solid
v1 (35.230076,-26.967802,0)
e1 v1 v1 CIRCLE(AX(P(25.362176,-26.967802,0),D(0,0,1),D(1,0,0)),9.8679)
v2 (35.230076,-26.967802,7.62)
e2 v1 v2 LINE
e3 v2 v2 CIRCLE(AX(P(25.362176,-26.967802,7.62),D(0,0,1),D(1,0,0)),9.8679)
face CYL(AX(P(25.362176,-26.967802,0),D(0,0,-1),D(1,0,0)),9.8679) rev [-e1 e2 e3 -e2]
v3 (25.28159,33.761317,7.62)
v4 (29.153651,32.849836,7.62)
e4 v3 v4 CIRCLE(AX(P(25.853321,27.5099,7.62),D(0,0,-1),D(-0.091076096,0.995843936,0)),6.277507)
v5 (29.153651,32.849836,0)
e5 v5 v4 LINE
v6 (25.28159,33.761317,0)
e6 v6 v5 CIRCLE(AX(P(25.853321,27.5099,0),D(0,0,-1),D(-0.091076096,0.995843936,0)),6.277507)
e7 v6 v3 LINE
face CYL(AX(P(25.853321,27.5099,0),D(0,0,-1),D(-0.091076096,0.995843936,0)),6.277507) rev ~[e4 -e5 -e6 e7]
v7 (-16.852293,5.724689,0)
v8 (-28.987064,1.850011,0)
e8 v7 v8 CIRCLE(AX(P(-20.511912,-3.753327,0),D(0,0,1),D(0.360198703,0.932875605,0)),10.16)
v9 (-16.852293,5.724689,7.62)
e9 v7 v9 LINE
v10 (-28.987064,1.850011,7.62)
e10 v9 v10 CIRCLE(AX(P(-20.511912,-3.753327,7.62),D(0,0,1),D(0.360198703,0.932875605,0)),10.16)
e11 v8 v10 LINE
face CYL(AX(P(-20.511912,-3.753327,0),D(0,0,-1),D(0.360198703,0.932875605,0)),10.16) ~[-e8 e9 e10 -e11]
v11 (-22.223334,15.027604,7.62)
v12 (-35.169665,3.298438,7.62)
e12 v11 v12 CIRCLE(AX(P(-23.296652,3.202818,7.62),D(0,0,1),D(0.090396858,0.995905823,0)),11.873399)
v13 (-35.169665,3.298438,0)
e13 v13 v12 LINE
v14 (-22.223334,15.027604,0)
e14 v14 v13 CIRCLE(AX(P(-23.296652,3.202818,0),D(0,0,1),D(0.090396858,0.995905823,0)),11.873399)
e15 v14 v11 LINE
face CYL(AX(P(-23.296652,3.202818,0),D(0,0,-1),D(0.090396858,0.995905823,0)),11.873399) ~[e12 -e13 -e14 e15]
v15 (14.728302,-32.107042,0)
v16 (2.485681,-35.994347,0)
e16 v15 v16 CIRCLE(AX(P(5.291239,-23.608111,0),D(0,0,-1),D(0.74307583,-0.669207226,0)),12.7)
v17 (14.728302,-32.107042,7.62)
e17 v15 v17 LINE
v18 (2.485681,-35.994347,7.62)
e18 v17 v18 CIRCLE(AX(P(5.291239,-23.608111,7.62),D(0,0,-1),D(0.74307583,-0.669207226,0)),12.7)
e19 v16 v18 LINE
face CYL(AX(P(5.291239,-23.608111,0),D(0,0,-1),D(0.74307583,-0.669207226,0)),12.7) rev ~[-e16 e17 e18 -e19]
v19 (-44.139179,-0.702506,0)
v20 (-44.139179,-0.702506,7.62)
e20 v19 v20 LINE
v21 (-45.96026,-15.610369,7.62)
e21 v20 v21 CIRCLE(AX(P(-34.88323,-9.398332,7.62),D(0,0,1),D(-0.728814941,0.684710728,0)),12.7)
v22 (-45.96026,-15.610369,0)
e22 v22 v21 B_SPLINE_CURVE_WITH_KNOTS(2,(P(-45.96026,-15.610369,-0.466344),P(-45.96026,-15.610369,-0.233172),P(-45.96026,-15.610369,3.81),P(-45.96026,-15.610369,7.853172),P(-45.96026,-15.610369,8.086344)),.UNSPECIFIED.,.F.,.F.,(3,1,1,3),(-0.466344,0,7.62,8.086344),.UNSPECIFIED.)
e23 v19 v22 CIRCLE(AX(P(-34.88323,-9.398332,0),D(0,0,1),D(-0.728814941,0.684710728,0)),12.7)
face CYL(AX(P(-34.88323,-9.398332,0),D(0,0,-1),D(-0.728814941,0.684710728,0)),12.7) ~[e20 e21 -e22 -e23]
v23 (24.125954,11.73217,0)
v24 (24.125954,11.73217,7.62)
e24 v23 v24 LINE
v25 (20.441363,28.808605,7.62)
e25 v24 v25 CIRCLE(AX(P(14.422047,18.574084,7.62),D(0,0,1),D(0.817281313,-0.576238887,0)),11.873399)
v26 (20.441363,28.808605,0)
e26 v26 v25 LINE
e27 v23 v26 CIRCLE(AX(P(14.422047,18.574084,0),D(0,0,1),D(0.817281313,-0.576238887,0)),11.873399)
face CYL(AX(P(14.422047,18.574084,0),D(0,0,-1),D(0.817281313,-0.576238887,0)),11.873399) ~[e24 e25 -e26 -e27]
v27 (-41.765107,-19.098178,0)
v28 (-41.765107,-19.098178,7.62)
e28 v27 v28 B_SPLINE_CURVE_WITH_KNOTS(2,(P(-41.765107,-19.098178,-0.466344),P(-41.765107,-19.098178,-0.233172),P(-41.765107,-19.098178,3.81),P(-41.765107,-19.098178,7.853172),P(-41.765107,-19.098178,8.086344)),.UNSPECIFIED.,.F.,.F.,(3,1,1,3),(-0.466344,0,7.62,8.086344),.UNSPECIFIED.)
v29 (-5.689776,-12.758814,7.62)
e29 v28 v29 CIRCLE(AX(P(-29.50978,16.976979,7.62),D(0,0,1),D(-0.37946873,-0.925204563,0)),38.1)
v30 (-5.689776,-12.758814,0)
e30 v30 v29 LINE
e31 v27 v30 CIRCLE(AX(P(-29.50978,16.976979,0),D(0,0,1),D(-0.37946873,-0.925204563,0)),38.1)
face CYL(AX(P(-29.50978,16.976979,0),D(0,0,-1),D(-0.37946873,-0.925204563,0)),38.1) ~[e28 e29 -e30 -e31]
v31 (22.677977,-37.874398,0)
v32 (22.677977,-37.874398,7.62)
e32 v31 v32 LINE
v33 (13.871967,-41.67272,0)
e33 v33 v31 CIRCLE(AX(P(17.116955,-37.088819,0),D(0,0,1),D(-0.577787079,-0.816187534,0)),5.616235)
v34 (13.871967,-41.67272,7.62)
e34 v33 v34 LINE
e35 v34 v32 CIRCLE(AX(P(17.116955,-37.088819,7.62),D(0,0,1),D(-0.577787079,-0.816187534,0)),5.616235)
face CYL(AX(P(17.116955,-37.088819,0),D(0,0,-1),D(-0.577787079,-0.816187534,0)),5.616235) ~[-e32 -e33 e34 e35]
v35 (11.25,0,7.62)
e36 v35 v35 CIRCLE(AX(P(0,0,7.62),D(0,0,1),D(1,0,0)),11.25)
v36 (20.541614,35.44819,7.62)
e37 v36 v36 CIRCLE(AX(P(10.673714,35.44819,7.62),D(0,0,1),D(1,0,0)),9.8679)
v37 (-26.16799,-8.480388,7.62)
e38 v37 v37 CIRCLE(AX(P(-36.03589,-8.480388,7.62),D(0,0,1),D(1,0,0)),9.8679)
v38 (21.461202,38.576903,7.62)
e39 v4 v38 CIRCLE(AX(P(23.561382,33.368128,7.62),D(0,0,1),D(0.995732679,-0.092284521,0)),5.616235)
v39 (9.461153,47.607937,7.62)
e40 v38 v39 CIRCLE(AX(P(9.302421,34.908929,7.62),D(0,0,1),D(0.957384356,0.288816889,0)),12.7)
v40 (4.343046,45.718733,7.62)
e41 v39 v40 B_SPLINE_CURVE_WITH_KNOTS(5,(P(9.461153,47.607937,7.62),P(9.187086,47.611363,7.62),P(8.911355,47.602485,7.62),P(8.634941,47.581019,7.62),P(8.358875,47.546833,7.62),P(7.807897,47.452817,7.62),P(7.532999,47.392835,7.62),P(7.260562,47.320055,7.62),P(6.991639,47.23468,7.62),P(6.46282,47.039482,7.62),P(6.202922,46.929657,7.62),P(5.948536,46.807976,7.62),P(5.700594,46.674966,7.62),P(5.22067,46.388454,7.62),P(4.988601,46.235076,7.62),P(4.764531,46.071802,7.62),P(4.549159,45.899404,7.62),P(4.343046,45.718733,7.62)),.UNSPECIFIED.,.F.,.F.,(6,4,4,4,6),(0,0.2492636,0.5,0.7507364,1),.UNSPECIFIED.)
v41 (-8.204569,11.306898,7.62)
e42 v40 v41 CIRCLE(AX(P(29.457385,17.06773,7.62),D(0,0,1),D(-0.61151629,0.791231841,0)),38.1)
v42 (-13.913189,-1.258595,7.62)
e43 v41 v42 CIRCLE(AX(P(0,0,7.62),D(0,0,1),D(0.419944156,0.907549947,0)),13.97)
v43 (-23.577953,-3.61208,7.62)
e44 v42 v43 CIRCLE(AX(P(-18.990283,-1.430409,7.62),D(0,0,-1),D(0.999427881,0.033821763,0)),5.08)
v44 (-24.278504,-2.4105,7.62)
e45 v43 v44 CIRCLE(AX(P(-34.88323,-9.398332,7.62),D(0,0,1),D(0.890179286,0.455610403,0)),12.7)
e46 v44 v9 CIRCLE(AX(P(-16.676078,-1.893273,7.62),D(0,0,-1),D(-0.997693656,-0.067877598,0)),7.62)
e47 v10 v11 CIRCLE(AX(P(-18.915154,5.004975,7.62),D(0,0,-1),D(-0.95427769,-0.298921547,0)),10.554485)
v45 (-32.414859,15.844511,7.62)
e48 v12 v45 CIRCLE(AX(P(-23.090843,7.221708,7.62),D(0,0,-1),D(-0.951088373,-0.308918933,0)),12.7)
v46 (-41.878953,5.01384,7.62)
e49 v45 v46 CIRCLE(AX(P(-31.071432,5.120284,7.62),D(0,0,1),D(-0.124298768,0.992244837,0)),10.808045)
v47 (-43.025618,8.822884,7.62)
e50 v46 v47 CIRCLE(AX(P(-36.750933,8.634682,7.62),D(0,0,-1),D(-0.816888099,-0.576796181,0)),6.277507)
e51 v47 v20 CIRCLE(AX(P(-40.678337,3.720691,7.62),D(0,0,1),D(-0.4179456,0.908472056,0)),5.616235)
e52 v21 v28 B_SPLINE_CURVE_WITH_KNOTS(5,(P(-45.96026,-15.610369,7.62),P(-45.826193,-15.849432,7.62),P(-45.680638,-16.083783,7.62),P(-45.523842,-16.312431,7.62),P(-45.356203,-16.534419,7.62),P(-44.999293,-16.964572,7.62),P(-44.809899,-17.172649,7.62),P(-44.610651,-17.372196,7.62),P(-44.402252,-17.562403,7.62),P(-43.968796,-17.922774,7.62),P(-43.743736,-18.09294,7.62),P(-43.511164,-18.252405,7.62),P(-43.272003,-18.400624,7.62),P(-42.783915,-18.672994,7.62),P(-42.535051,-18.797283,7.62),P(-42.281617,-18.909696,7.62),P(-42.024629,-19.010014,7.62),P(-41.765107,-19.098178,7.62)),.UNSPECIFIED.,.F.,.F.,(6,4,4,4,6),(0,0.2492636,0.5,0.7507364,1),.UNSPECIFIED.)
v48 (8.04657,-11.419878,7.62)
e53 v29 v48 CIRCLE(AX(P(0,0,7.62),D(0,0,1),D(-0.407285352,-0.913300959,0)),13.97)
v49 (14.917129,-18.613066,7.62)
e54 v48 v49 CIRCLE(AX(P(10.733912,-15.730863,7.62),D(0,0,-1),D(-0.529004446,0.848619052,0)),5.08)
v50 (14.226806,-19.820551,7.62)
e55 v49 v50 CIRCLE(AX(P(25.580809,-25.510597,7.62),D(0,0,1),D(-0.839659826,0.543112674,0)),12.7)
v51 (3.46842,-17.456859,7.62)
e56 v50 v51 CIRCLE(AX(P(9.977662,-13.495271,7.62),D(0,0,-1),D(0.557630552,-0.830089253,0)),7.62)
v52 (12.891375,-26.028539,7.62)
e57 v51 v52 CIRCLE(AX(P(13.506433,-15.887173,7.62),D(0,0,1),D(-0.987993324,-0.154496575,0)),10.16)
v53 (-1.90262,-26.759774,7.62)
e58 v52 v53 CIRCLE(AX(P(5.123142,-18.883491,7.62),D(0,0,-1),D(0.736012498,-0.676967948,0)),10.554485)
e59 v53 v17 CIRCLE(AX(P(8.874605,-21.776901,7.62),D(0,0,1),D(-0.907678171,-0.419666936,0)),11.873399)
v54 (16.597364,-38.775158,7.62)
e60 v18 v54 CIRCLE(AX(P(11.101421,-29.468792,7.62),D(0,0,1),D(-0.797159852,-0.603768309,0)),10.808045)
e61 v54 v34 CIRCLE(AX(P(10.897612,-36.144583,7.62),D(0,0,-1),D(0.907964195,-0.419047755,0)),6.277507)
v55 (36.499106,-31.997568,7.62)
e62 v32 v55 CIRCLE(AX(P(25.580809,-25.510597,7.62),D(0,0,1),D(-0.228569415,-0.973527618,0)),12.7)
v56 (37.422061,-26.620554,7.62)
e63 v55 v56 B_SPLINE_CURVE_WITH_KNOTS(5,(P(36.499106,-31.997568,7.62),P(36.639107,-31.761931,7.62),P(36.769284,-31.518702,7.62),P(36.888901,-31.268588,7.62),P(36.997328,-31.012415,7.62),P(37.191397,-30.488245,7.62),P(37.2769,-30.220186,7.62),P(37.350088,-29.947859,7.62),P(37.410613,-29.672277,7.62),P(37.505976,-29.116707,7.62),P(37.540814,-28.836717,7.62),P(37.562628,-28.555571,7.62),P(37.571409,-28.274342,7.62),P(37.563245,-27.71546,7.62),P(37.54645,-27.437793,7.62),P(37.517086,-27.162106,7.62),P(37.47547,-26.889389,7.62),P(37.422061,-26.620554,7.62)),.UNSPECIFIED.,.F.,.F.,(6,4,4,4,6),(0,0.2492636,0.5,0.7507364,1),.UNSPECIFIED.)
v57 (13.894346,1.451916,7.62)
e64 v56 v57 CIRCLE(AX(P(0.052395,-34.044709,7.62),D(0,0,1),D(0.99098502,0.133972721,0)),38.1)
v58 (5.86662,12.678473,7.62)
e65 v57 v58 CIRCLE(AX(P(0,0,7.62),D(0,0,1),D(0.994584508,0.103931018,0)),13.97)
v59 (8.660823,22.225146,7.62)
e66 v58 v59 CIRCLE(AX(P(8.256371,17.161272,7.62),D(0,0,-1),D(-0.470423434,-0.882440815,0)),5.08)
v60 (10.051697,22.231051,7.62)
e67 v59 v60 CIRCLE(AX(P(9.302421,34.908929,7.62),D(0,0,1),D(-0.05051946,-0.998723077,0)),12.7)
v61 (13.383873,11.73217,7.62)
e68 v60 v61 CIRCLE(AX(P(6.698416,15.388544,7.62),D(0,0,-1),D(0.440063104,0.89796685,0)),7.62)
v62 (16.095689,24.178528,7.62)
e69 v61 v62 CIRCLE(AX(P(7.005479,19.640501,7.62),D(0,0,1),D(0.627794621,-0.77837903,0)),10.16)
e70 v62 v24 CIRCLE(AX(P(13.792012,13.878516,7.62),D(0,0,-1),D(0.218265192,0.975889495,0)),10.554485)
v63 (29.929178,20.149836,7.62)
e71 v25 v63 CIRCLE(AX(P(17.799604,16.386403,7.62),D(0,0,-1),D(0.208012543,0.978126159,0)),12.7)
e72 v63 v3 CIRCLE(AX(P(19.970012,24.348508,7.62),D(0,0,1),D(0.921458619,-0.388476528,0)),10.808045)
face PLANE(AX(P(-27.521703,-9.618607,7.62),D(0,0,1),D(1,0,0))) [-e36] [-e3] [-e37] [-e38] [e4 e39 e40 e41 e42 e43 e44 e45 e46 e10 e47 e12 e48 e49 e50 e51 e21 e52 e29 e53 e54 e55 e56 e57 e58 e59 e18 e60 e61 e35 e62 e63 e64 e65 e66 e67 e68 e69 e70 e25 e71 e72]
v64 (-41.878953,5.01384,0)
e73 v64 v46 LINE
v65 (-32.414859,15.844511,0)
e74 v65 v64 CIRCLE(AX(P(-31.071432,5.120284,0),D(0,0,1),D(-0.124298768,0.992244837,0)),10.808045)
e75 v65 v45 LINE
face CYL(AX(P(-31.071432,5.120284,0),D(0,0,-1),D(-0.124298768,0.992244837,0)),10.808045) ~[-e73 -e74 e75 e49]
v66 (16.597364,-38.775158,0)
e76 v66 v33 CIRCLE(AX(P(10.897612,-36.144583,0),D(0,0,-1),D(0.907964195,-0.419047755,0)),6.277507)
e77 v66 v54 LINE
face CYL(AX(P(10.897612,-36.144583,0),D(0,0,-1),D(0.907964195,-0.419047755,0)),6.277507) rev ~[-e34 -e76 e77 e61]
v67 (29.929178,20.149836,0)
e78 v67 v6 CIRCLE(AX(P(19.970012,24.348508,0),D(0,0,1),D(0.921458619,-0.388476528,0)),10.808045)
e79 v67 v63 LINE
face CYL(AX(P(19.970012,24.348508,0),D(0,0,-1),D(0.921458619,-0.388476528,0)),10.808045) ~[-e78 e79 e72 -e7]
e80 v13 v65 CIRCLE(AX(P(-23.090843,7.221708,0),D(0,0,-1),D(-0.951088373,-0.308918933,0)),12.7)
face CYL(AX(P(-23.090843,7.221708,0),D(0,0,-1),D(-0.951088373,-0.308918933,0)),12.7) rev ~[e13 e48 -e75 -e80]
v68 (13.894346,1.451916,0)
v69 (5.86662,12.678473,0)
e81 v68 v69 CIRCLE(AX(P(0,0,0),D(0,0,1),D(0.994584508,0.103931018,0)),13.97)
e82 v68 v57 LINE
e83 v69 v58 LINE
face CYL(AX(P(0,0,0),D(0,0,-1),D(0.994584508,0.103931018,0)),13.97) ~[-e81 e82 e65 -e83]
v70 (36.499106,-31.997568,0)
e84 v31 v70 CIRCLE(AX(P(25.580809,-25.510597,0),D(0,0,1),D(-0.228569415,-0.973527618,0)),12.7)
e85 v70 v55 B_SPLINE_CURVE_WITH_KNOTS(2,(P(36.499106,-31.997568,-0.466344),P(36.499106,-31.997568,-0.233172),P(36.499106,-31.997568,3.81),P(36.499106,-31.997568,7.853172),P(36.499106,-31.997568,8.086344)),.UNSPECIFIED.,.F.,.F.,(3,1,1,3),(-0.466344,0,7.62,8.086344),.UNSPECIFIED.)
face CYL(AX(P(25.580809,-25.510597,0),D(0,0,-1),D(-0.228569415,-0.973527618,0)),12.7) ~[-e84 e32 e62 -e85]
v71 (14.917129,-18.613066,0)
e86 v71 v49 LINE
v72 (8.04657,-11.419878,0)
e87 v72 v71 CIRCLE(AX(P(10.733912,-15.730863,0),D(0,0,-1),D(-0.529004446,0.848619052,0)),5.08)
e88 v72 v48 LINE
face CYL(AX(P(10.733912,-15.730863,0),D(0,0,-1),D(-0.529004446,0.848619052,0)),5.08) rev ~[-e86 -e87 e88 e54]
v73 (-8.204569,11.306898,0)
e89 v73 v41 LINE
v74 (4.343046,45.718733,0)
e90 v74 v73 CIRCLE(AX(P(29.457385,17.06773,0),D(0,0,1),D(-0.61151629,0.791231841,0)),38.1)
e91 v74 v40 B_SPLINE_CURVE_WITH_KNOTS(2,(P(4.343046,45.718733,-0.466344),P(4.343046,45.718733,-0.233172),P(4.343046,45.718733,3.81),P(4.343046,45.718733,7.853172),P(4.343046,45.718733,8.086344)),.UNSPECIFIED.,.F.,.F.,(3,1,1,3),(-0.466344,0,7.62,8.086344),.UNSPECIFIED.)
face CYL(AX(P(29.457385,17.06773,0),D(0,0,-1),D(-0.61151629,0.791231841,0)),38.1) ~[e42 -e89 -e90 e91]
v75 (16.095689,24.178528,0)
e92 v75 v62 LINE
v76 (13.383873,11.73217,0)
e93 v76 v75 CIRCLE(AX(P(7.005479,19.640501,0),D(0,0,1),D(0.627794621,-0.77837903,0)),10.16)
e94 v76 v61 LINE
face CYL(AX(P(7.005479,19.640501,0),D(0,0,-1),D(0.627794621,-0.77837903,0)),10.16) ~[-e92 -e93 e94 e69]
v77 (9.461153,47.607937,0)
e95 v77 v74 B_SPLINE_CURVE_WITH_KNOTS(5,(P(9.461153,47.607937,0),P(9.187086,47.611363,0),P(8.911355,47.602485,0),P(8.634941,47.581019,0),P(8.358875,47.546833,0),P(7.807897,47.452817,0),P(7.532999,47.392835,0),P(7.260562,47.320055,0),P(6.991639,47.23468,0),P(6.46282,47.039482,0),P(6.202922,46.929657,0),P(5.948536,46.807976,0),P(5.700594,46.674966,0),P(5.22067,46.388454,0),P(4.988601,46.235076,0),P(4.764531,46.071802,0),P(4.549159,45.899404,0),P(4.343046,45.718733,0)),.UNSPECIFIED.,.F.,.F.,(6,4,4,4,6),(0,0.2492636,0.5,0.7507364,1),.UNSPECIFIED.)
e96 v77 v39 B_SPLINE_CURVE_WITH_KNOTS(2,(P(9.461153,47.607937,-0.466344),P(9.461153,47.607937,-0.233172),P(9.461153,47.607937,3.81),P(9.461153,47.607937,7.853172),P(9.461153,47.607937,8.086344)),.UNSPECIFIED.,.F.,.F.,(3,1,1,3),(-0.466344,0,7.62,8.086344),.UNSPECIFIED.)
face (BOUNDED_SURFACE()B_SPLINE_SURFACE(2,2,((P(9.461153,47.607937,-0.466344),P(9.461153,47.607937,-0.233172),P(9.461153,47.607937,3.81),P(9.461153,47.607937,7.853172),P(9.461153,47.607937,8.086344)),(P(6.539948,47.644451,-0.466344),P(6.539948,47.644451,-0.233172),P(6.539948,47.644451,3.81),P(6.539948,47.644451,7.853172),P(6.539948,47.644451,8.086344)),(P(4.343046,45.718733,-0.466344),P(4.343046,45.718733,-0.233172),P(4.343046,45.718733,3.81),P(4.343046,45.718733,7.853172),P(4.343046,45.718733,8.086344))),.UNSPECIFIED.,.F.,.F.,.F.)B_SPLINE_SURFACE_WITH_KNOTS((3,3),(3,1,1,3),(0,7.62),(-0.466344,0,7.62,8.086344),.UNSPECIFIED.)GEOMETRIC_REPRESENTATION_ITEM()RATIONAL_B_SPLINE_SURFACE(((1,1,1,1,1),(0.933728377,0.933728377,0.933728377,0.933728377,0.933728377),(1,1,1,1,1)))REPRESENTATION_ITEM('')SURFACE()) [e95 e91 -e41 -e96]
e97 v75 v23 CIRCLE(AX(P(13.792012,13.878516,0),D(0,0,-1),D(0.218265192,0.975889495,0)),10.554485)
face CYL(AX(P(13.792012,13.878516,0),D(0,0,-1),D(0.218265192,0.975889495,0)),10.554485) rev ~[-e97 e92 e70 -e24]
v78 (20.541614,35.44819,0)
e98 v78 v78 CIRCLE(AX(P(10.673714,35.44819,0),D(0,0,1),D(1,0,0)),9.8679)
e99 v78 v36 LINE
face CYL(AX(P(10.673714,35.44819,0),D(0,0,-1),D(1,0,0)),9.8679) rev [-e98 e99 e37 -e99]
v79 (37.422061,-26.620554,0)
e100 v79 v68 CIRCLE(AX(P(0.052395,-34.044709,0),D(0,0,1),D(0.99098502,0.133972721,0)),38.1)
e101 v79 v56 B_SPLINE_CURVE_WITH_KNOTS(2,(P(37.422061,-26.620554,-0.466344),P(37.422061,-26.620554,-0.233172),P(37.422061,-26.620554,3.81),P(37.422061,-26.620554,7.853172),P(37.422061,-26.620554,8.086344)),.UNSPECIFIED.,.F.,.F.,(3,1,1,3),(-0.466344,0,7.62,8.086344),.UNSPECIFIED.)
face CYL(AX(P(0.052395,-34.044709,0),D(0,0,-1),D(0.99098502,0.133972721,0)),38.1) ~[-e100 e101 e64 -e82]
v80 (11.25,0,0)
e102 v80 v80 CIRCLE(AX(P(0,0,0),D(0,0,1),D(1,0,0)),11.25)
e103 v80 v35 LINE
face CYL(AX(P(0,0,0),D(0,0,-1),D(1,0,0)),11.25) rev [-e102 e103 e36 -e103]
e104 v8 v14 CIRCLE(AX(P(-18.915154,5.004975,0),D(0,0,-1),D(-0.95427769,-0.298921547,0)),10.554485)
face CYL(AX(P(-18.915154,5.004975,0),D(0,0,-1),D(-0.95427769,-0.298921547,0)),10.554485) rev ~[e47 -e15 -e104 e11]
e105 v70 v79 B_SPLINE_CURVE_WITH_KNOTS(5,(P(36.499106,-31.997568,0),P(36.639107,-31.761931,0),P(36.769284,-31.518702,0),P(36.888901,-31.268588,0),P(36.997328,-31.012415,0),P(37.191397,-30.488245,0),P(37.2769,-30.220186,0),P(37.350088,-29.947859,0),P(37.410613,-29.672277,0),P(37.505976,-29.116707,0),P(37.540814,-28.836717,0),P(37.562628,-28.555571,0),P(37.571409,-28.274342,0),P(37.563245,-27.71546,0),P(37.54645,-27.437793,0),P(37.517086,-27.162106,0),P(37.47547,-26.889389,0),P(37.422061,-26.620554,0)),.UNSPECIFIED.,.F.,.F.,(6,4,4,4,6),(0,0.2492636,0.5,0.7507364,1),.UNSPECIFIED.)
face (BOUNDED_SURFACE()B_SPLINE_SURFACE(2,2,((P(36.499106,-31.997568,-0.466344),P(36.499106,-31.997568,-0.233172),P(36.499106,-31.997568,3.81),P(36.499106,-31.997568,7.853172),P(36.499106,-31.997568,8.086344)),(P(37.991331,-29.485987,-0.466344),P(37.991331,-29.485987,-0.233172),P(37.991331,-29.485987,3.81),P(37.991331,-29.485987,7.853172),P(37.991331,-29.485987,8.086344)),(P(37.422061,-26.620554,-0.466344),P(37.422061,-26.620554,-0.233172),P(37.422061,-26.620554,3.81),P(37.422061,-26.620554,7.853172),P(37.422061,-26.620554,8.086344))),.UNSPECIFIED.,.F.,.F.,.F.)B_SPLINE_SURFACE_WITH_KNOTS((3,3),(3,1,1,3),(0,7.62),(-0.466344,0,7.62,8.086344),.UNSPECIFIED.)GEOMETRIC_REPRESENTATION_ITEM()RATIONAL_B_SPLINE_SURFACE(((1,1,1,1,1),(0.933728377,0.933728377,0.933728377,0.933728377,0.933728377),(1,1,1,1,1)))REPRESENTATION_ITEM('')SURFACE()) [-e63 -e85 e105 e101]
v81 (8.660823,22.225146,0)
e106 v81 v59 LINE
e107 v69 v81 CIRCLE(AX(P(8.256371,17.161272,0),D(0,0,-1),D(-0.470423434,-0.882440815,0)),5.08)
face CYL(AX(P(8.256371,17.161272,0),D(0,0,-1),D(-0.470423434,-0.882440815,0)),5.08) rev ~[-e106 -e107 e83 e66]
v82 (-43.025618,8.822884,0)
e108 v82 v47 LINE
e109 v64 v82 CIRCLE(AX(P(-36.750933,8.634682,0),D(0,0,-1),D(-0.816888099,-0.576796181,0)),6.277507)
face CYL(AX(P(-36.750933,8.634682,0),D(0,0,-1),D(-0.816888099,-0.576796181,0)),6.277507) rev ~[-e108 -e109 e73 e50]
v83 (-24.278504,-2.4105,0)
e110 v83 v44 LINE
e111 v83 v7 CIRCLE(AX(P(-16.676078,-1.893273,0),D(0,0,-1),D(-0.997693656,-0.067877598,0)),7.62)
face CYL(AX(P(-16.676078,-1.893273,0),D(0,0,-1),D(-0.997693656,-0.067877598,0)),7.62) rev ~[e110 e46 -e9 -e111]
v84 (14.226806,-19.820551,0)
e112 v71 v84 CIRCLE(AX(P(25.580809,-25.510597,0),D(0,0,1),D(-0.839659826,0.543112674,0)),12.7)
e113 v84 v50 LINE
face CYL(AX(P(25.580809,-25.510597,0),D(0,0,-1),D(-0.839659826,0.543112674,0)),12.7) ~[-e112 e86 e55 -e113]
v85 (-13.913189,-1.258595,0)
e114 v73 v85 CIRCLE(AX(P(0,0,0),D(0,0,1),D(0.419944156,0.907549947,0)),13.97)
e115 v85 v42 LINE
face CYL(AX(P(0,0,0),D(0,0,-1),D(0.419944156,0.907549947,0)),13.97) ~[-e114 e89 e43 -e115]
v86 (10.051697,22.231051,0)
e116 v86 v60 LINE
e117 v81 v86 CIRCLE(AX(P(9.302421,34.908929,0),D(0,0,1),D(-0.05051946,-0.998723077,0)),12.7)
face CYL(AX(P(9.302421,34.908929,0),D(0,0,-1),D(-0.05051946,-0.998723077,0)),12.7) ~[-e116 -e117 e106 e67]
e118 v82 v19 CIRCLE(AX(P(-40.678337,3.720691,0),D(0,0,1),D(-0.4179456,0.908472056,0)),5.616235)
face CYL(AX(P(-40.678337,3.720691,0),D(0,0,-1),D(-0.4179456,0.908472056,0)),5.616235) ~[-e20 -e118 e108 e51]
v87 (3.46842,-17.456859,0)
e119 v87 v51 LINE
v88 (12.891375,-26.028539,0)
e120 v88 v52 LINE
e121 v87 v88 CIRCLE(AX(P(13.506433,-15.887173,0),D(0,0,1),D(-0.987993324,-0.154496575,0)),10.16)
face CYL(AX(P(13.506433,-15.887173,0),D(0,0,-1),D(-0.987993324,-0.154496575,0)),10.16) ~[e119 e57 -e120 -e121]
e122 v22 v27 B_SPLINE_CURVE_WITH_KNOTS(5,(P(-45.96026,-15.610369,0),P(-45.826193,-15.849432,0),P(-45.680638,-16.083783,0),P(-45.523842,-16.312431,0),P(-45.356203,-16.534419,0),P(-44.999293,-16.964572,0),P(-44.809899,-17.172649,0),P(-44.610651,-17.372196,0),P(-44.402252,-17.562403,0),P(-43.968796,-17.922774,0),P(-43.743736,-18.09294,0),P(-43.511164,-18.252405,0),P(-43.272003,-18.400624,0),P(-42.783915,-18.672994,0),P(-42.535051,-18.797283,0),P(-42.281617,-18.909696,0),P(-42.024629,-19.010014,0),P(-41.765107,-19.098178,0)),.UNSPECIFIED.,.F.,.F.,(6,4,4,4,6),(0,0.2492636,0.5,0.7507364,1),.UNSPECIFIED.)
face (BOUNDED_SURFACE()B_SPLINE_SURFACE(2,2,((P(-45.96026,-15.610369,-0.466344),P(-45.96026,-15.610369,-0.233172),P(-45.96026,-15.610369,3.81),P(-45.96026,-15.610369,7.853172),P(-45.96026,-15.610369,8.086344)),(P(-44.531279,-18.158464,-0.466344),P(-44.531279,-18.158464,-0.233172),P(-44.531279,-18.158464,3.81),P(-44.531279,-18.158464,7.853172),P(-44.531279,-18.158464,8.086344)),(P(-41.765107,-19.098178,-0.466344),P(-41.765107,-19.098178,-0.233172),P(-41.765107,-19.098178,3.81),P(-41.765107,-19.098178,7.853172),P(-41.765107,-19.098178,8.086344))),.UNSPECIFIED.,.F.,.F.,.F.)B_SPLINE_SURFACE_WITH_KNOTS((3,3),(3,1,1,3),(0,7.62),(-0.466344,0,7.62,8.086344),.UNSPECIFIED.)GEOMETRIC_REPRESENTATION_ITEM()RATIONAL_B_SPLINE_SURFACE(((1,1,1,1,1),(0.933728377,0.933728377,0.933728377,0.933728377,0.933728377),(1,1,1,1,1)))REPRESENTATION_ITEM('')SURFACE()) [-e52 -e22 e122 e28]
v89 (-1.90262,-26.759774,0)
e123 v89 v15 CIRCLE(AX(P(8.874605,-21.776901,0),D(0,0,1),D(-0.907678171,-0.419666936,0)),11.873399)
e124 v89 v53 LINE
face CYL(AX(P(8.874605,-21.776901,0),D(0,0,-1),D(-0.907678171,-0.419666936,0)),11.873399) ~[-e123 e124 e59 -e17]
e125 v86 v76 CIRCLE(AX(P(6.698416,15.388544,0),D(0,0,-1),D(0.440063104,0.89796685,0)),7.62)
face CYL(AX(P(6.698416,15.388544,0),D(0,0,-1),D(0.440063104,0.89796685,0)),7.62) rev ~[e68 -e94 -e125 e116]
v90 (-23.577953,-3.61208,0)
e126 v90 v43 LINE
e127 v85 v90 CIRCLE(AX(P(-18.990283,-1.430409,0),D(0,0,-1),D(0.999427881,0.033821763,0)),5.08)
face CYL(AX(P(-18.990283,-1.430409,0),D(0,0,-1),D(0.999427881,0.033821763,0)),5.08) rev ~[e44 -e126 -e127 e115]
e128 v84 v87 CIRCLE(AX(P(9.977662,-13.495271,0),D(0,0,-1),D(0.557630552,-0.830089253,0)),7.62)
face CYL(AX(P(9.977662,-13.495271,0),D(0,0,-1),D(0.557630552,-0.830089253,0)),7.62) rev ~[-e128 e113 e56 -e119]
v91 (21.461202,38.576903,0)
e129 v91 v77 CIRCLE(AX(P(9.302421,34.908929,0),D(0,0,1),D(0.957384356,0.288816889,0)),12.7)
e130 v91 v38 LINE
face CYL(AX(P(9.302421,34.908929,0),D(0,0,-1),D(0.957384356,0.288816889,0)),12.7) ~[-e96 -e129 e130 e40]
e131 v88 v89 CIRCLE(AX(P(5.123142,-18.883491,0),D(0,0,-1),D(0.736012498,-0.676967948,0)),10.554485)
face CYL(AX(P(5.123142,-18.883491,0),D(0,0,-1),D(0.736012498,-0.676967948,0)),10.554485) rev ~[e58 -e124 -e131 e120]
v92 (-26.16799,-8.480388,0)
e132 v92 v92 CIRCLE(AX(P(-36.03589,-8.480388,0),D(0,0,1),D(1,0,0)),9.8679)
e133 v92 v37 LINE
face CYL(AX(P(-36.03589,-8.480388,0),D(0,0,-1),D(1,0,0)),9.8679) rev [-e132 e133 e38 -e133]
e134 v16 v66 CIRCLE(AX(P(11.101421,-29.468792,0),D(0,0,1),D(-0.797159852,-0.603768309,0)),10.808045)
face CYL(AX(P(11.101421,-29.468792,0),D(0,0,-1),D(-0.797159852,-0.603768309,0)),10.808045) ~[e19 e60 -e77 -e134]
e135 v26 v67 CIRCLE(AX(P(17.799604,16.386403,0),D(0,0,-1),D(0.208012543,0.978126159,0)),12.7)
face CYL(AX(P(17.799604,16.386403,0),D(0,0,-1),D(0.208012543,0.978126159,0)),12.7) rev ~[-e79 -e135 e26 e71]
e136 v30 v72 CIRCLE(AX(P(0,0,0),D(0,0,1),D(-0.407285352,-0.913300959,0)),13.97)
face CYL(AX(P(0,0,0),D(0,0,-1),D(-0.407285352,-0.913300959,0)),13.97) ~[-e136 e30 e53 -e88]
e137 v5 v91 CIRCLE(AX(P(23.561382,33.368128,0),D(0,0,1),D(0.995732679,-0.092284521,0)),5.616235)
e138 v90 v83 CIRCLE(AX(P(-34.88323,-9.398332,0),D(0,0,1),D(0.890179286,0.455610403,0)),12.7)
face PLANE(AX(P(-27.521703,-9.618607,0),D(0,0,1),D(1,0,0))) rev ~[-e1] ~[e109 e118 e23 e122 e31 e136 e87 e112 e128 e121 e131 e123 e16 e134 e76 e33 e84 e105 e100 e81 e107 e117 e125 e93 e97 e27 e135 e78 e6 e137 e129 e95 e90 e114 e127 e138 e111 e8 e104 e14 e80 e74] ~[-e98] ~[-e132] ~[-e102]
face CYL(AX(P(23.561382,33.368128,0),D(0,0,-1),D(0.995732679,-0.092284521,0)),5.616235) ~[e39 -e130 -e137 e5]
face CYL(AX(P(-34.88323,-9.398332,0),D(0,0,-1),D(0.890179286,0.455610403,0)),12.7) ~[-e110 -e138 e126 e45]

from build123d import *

# Parameters (mm, degrees)
F0_R     = 9.8679
F0_R_2   = 11.25
F1_DEPTH = 7.62
F2_R     = 7.62


with BuildPart() as f1:
    # F0 (on Top) → F1 (new body)
    with BuildSketch(Plane.XY):
        with BuildLine():
            ThreePointArc((-43.9675390459, -18.2733148979), (-24.0769783095, -20.7336914411), (-5.6897763655, -12.7588144007))
            ThreePointArc((-5.6897763655, -12.7588144007), (-11.3636627485, -8.1257657448), (-13.9131894177, -1.2585945443))
            ThreePointArc((-13.9131894177, -1.2585945443), (-17.7883649195, -6.3661757884), (-23.5779527058, -3.6120798208))
            ThreePointArc((-23.5779527058, -3.6120798208), (-23.9117664703, -3.0016925054), (-24.27850376, -2.4105004347))
            ThreePointArc((-24.27850376, -2.4105004347), (-26.3622058351, 0.0187882898), (-28.9870638751, 1.8500114644))
            ThreePointArc((-28.9870638751, 1.8500114644), (-31.9863775374, 2.9668711691), (-35.1696654297, 3.2984375125))
            ThreePointArc((-35.1696654297, 3.2984375125), (-36.9929388731, 3.125210966), (-38.772336885, 2.6915334348))
            ThreePointArc((-38.772336885, 2.6915334348), (-40.0568325476, 2.2001090277), (-41.2806580353, 1.5726711973))
            ThreePointArc((-41.2806580353, 1.5726711973), (-42.7921593571, 0.5384095089), (-44.1391793855, -0.7025056892))
            ThreePointArc((-44.1391793855, -0.7025056892), (-47.5826237378, -9.5223858919), (-43.9675390459, -18.2733148979))
        make_face()
        with Locations((-36.0358898416, -8.480387548)):
            Circle(F0_R, mode=Mode.SUBTRACT)
        with BuildLine():
            ThreePointArc((8.0465695573, -11.4198782113), (12.4010377936, -6.4323527299), (13.97, 0))
            ThreePointArc((13.97, 0), (13.9510735733, 0.7269430186), (13.8943455759, 1.4519163259))
            ThreePointArc((13.8943455759, 1.4519163259), (11.3636627485, 8.1257657448), (5.8666198604, 12.6784727555))
            ThreePointArc((5.8666198604, 12.6784727555), (-1.355288186, 13.9041034926), (-8.2045692104, 11.3068980747))
            ThreePointArc((-8.2045692104, 11.3068980747), (-12.7189509344, 5.7783377478), (-13.9131894177, -1.2585945443))
            ThreePointArc((-13.9131894177, -1.2585945443), (-11.3636627485, -8.1257657448), (-5.6897763655, -12.7588144007))
            ThreePointArc((-5.6897763655, -12.7588144007), (1.355288186, -13.9041034926), (8.0465695573, -11.4198782113))
        make_face()
        Circle(F0_R_2, mode=Mode.SUBTRACT)
        with BuildLine():
            ThreePointArc((-43.025617844, 8.8228840299), (-46.2565836802, 4.3728136122), (-44.1391793855, -0.7025056892))
            ThreePointArc((-44.1391793855, -0.7025056892), (-42.7921593571, 0.5384095089), (-41.2806580353, 1.5726711973))
            ThreePointArc((-41.2806580353, 1.5726711973), (-41.7197337386, 3.26892729), (-41.8789534473, 5.0138402649))
            ThreePointArc((-41.8789534473, 5.0138402649), (-42.7619749641, 6.8251340993), (-43.025617844, 8.8228840299))
        make_face()
        with BuildLine():
            ThreePointArc((-32.4148590407, 15.8445106758), (-39.2100586679, 12.2320065578), (-41.8789534473, 5.0138402649))
            ThreePointArc((-41.8789534473, 5.0138402649), (-40.5095024441, 3.6067356872), (-38.772336885, 2.6915334348))
            ThreePointArc((-38.772336885, 2.6915334348), (-36.9929388731, 3.125210966), (-35.1696654297, 3.2984375125))
            ThreePointArc((-35.1696654297, 3.2984375125), (-35.4953325875, 9.945426089), (-32.4148590407, 15.8445106758))
        make_face()
        with BuildLine():
            ThreePointArc((-41.8789534473, 5.0138402649), (-41.7197337386, 3.26892729), (-41.2806580353, 1.5726711973))
            ThreePointArc((-41.2806580353, 1.5726711973), (-40.0568325476, 2.2001090277), (-38.772336885, 2.6915334348))
            ThreePointArc((-38.772336885, 2.6915334348), (-40.5095024441, 3.6067356872), (-41.8789534473, 5.0138402649))
        make_face()
        with BuildLine():
            ThreePointArc((-35.1696654297, 3.2984375125), (-31.9863775374, 2.9668711691), (-28.9870638751, 1.8500114644))
            ThreePointArc((-28.9870638751, 1.8500114644), (-28.3049856869, 9.8245411614), (-22.2233339706, 15.0276043883))
            ThreePointArc((-22.2233339706, 15.0276043883), (-31.268583607, 12.0020163498), (-35.1696654297, 3.2984375125))
        make_face()
        with BuildLine():
            ThreePointArc((-28.9870638751, 1.8500114644), (-26.3622058351, 0.0187882898), (-24.27850376, -2.4105004347))
            ThreePointArc((-24.27850376, -2.4105004347), (-22.3038787795, 3.2440665901), (-16.8522933059, 5.7246890677))
            ThreePointArc((-16.8522933059, 5.7246890677), (-23.6023200247, 5.925256444), (-28.9870638751, 1.8500114644))
        make_face()
        with BuildLine():
            ThreePointArc((-8.2045692104, 11.3068980747), (-1.355288186, 13.9041034926), (5.8666198604, 12.6784727555))
            ThreePointArc((5.8666198604, 12.6784727555), (3.3809125021, 18.5882638063), (8.6608234676, 22.2251459229))
            ThreePointArc((8.6608234676, 22.2251459229), (9.3563412711, 22.2090434653), (10.0516972677, 22.2310512394))
            ThreePointArc((10.0516972677, 22.2310512394), (13.1973740538, 22.8209458081), (16.095688863, 24.1785279647))
            ThreePointArc((16.095688863, 24.1785279647), (18.5625745709, 26.2175799379), (20.4413633934, 28.8086049485))
            ThreePointArc((20.4413633934, 28.8086049485), (21.2029815253, 30.4742193418), (21.7171047722, 32.2320619891))
            ThreePointArc((21.7171047722, 32.2320619891), (21.9337665829, 33.5901800675), (22.0023022263, 34.9637629448))
            ThreePointArc((22.0023022263, 34.9637629448), (21.8623559909, 36.7898923316), (21.4612019196, 38.5769034946))
            ThreePointArc((21.4612019196, 38.5769034946), (15.5446837819, 45.9689538816), (6.15861461, 47.2136632046))
            ThreePointArc((6.15861461, 47.2136632046), (-5.9174143474, 31.218120583), (-8.2045692104, 11.3068980747))
        make_face()
        with Locations((10.6737138703, 35.4481898248)):
            Circle(F0_R, mode=Mode.SUBTRACT)
        with BuildLine():
            ThreePointArc((13.8943455759, 1.4519163259), (13.9510735733, 0.7269430186), (13.97, 0))
            ThreePointArc((13.97, 0), (12.4010377936, -6.4323527299), (8.0465695573, -11.4198782113))
            ThreePointArc((8.0465695573, -11.4198782113), (14.4074524174, -12.2220880179), (14.9171292382, -18.6130661021))
            ThreePointArc((14.9171292382, -18.6130661021), (14.5554251992, -19.2073509599), (14.2268064923, -19.8205508047))
            ThreePointArc((14.2268064923, -19.8205508047), (13.1648317813, -22.8397340979), (12.891375012, -26.0285394291))
            ThreePointArc((12.891375012, -26.0285394291), (13.4238029666, -29.184451107), (14.7283020363, -32.1070424609))
            ThreePointArc((14.7283020363, -32.1070424609), (15.7899573478, -33.5994303078), (17.0552321128, -34.9235954239))
            ThreePointArc((17.0552321128, -34.9235954239), (18.1230659647, -35.7902890953), (19.278355809, -36.5364341421))
            ThreePointArc((19.278355809, -36.5364341421), (20.9298033662, -37.3283018405), (22.6779774659, -37.8743978054))
            ThreePointArc((22.6779774659, -37.8743978054), (32.0379399559, -36.4465679897), (37.8089244359, -28.9403483066))
            ThreePointArc((37.8089244359, -28.9403483066), (29.994392657, -10.4844291419), (13.8943455759, 1.4519163259))
        make_face()
        with Locations((25.3621759713, -26.9678022769)):
            Circle(F0_R, mode=Mode.SUBTRACT)
        with BuildLine():
            ThreePointArc((29.1536506265, 32.8498360514), (26.9152595143, 37.8729697533), (21.4612019196, 38.5769034946))
            ThreePointArc((21.4612019196, 38.5769034946), (21.8623559909, 36.7898923316), (22.0023022263, 34.9637629448))
            ThreePointArc((22.0023022263, 34.9637629448), (23.6908409456, 34.4958856118), (25.2815897635, 33.7613174369))
            ThreePointArc((25.2815897635, 33.7613174369), (27.2917269962, 33.6203895852), (29.1536506265, 32.8498360514))
        make_face()
        with BuildLine():
            ThreePointArc((21.7171047722, 32.2320619891), (21.2029815253, 30.4742193418), (20.4413633934, 28.8086049485))
            ThreePointArc((20.4413633934, 28.8086049485), (26.3606579383, 25.7671466921), (29.9291782762, 20.1498360514))
            ThreePointArc((29.9291782762, 20.1498360514), (30.1982577523, 27.8409036114), (25.2815897635, 33.7613174369))
            ThreePointArc((25.2815897635, 33.7613174369), (23.3782759519, 33.2788903677), (21.7171047722, 32.2320619891))
        make_face()
        with BuildLine():
            ThreePointArc((20.4413633934, 28.8086049485), (18.5625745709, 26.2175799379), (16.095688863, 24.1785279647))
            ThreePointArc((16.095688863, 24.1785279647), (22.6607950698, 19.6005660779), (24.1259541436, 11.7321695811))
            ThreePointArc((24.1259541436, 11.7321695811), (26.028342859, 21.0783795691), (20.4413633934, 28.8086049485))
        make_face()
        with BuildLine():
            ThreePointArc((16.095688863, 24.1785279647), (13.1973740538, 22.8209458081), (10.0516972677, 22.2310512394))
            ThreePointArc((10.0516972677, 22.2310512394), (13.9613834684, 17.6936923309), (13.3838728144, 11.7321695811))
            ThreePointArc((13.3838728144, 11.7321695811), (16.9325826168, 17.4775805077), (16.095688863, 24.1785279647))
        make_face()
        with BuildLine():
            ThreePointArc((25.2815897635, 33.7613174369), (23.6908409456, 34.4958856118), (22.0023022263, 34.9637629448))
            ThreePointArc((22.0023022263, 34.9637629448), (21.9337665829, 33.5901800675), (21.7171047722, 32.2320619891))
            ThreePointArc((21.7171047722, 32.2320619891), (23.3782759519, 33.2788903677), (25.2815897635, 33.7613174369))
        make_face()
        with BuildLine():
            ThreePointArc((12.891375012, -26.0285394291), (13.1648317813, -22.8397340979), (14.2268064923, -19.8205508047))
            ThreePointArc((14.2268064923, -19.8205508047), (8.3424953112, -20.937758921), (3.4684204916, -17.4568586488))
            ThreePointArc((3.4684204916, -17.4568586488), (6.6697374079, -23.4028369517), (12.891375012, -26.0285394291))
        make_face()
        with BuildLine():
            ThreePointArc((14.7283020363, -32.1070424609), (13.4238029666, -29.184451107), (12.891375012, -26.0285394291))
            ThreePointArc((12.891375012, -26.0285394291), (5.6441906172, -29.4251072393), (-1.902620173, -26.7597739695))
            ThreePointArc((-1.902620173, -26.7597739695), (5.240240748, -33.0803959189), (14.7283020363, -32.1070424609))
        make_face()
        with BuildLine():
            ThreePointArc((13.8719672174, -41.6727200814), (19.341324166, -42.2457833654), (22.6779774659, -37.8743978054))
            ThreePointArc((22.6779774659, -37.8743978054), (20.9298033662, -37.3283018405), (19.278355809, -36.5364341421))
            ThreePointArc((19.278355809, -36.5364341421), (18.028892793, -37.7648129018), (16.5973636838, -38.7751577017))
            ThreePointArc((16.5973636838, -38.7751577017), (15.4702479678, -40.4455236845), (13.8719672174, -41.6727200814))
        make_face()
        with BuildLine():
            ThreePointArc((2.4856807646, -35.9943467273), (9.0118009156, -40.0729101692), (16.5973636838, -38.7751577017))
            ThreePointArc((16.5973636838, -38.7751577017), (17.1312264922, -36.8856260549), (17.0552321128, -34.9235954239))
            ThreePointArc((17.0552321128, -34.9235954239), (15.7899573478, -33.5994303078), (14.7283020363, -32.1070424609))
            ThreePointArc((14.7283020363, -32.1070424609), (9.1346746492, -35.7125727811), (2.4856807646, -35.9943467273))
        make_face()
        with BuildLine():
            ThreePointArc((16.5973636838, -38.7751577017), (18.028892793, -37.7648129018), (19.278355809, -36.5364341421))
            ThreePointArc((19.278355809, -36.5364341421), (18.1230659647, -35.7902890953), (17.0552321128, -34.9235954239))
            ThreePointArc((17.0552321128, -34.9235954239), (17.1312264922, -36.8856260549), (16.5973636838, -38.7751577017))
        make_face()
    extrude(amount=F1_DEPTH)

    # F2
    f2_edges = [f1.edges().sort_by_distance(p)[0] for p in [
        (37.808924, -28.940348, 3.81),
        (6.158615, 47.213663, 3.81),
        (-43.967539, -18.273315, 3.81),
    ]]
    fillet(f2_edges, radius=F2_R)


solid = f1.part
